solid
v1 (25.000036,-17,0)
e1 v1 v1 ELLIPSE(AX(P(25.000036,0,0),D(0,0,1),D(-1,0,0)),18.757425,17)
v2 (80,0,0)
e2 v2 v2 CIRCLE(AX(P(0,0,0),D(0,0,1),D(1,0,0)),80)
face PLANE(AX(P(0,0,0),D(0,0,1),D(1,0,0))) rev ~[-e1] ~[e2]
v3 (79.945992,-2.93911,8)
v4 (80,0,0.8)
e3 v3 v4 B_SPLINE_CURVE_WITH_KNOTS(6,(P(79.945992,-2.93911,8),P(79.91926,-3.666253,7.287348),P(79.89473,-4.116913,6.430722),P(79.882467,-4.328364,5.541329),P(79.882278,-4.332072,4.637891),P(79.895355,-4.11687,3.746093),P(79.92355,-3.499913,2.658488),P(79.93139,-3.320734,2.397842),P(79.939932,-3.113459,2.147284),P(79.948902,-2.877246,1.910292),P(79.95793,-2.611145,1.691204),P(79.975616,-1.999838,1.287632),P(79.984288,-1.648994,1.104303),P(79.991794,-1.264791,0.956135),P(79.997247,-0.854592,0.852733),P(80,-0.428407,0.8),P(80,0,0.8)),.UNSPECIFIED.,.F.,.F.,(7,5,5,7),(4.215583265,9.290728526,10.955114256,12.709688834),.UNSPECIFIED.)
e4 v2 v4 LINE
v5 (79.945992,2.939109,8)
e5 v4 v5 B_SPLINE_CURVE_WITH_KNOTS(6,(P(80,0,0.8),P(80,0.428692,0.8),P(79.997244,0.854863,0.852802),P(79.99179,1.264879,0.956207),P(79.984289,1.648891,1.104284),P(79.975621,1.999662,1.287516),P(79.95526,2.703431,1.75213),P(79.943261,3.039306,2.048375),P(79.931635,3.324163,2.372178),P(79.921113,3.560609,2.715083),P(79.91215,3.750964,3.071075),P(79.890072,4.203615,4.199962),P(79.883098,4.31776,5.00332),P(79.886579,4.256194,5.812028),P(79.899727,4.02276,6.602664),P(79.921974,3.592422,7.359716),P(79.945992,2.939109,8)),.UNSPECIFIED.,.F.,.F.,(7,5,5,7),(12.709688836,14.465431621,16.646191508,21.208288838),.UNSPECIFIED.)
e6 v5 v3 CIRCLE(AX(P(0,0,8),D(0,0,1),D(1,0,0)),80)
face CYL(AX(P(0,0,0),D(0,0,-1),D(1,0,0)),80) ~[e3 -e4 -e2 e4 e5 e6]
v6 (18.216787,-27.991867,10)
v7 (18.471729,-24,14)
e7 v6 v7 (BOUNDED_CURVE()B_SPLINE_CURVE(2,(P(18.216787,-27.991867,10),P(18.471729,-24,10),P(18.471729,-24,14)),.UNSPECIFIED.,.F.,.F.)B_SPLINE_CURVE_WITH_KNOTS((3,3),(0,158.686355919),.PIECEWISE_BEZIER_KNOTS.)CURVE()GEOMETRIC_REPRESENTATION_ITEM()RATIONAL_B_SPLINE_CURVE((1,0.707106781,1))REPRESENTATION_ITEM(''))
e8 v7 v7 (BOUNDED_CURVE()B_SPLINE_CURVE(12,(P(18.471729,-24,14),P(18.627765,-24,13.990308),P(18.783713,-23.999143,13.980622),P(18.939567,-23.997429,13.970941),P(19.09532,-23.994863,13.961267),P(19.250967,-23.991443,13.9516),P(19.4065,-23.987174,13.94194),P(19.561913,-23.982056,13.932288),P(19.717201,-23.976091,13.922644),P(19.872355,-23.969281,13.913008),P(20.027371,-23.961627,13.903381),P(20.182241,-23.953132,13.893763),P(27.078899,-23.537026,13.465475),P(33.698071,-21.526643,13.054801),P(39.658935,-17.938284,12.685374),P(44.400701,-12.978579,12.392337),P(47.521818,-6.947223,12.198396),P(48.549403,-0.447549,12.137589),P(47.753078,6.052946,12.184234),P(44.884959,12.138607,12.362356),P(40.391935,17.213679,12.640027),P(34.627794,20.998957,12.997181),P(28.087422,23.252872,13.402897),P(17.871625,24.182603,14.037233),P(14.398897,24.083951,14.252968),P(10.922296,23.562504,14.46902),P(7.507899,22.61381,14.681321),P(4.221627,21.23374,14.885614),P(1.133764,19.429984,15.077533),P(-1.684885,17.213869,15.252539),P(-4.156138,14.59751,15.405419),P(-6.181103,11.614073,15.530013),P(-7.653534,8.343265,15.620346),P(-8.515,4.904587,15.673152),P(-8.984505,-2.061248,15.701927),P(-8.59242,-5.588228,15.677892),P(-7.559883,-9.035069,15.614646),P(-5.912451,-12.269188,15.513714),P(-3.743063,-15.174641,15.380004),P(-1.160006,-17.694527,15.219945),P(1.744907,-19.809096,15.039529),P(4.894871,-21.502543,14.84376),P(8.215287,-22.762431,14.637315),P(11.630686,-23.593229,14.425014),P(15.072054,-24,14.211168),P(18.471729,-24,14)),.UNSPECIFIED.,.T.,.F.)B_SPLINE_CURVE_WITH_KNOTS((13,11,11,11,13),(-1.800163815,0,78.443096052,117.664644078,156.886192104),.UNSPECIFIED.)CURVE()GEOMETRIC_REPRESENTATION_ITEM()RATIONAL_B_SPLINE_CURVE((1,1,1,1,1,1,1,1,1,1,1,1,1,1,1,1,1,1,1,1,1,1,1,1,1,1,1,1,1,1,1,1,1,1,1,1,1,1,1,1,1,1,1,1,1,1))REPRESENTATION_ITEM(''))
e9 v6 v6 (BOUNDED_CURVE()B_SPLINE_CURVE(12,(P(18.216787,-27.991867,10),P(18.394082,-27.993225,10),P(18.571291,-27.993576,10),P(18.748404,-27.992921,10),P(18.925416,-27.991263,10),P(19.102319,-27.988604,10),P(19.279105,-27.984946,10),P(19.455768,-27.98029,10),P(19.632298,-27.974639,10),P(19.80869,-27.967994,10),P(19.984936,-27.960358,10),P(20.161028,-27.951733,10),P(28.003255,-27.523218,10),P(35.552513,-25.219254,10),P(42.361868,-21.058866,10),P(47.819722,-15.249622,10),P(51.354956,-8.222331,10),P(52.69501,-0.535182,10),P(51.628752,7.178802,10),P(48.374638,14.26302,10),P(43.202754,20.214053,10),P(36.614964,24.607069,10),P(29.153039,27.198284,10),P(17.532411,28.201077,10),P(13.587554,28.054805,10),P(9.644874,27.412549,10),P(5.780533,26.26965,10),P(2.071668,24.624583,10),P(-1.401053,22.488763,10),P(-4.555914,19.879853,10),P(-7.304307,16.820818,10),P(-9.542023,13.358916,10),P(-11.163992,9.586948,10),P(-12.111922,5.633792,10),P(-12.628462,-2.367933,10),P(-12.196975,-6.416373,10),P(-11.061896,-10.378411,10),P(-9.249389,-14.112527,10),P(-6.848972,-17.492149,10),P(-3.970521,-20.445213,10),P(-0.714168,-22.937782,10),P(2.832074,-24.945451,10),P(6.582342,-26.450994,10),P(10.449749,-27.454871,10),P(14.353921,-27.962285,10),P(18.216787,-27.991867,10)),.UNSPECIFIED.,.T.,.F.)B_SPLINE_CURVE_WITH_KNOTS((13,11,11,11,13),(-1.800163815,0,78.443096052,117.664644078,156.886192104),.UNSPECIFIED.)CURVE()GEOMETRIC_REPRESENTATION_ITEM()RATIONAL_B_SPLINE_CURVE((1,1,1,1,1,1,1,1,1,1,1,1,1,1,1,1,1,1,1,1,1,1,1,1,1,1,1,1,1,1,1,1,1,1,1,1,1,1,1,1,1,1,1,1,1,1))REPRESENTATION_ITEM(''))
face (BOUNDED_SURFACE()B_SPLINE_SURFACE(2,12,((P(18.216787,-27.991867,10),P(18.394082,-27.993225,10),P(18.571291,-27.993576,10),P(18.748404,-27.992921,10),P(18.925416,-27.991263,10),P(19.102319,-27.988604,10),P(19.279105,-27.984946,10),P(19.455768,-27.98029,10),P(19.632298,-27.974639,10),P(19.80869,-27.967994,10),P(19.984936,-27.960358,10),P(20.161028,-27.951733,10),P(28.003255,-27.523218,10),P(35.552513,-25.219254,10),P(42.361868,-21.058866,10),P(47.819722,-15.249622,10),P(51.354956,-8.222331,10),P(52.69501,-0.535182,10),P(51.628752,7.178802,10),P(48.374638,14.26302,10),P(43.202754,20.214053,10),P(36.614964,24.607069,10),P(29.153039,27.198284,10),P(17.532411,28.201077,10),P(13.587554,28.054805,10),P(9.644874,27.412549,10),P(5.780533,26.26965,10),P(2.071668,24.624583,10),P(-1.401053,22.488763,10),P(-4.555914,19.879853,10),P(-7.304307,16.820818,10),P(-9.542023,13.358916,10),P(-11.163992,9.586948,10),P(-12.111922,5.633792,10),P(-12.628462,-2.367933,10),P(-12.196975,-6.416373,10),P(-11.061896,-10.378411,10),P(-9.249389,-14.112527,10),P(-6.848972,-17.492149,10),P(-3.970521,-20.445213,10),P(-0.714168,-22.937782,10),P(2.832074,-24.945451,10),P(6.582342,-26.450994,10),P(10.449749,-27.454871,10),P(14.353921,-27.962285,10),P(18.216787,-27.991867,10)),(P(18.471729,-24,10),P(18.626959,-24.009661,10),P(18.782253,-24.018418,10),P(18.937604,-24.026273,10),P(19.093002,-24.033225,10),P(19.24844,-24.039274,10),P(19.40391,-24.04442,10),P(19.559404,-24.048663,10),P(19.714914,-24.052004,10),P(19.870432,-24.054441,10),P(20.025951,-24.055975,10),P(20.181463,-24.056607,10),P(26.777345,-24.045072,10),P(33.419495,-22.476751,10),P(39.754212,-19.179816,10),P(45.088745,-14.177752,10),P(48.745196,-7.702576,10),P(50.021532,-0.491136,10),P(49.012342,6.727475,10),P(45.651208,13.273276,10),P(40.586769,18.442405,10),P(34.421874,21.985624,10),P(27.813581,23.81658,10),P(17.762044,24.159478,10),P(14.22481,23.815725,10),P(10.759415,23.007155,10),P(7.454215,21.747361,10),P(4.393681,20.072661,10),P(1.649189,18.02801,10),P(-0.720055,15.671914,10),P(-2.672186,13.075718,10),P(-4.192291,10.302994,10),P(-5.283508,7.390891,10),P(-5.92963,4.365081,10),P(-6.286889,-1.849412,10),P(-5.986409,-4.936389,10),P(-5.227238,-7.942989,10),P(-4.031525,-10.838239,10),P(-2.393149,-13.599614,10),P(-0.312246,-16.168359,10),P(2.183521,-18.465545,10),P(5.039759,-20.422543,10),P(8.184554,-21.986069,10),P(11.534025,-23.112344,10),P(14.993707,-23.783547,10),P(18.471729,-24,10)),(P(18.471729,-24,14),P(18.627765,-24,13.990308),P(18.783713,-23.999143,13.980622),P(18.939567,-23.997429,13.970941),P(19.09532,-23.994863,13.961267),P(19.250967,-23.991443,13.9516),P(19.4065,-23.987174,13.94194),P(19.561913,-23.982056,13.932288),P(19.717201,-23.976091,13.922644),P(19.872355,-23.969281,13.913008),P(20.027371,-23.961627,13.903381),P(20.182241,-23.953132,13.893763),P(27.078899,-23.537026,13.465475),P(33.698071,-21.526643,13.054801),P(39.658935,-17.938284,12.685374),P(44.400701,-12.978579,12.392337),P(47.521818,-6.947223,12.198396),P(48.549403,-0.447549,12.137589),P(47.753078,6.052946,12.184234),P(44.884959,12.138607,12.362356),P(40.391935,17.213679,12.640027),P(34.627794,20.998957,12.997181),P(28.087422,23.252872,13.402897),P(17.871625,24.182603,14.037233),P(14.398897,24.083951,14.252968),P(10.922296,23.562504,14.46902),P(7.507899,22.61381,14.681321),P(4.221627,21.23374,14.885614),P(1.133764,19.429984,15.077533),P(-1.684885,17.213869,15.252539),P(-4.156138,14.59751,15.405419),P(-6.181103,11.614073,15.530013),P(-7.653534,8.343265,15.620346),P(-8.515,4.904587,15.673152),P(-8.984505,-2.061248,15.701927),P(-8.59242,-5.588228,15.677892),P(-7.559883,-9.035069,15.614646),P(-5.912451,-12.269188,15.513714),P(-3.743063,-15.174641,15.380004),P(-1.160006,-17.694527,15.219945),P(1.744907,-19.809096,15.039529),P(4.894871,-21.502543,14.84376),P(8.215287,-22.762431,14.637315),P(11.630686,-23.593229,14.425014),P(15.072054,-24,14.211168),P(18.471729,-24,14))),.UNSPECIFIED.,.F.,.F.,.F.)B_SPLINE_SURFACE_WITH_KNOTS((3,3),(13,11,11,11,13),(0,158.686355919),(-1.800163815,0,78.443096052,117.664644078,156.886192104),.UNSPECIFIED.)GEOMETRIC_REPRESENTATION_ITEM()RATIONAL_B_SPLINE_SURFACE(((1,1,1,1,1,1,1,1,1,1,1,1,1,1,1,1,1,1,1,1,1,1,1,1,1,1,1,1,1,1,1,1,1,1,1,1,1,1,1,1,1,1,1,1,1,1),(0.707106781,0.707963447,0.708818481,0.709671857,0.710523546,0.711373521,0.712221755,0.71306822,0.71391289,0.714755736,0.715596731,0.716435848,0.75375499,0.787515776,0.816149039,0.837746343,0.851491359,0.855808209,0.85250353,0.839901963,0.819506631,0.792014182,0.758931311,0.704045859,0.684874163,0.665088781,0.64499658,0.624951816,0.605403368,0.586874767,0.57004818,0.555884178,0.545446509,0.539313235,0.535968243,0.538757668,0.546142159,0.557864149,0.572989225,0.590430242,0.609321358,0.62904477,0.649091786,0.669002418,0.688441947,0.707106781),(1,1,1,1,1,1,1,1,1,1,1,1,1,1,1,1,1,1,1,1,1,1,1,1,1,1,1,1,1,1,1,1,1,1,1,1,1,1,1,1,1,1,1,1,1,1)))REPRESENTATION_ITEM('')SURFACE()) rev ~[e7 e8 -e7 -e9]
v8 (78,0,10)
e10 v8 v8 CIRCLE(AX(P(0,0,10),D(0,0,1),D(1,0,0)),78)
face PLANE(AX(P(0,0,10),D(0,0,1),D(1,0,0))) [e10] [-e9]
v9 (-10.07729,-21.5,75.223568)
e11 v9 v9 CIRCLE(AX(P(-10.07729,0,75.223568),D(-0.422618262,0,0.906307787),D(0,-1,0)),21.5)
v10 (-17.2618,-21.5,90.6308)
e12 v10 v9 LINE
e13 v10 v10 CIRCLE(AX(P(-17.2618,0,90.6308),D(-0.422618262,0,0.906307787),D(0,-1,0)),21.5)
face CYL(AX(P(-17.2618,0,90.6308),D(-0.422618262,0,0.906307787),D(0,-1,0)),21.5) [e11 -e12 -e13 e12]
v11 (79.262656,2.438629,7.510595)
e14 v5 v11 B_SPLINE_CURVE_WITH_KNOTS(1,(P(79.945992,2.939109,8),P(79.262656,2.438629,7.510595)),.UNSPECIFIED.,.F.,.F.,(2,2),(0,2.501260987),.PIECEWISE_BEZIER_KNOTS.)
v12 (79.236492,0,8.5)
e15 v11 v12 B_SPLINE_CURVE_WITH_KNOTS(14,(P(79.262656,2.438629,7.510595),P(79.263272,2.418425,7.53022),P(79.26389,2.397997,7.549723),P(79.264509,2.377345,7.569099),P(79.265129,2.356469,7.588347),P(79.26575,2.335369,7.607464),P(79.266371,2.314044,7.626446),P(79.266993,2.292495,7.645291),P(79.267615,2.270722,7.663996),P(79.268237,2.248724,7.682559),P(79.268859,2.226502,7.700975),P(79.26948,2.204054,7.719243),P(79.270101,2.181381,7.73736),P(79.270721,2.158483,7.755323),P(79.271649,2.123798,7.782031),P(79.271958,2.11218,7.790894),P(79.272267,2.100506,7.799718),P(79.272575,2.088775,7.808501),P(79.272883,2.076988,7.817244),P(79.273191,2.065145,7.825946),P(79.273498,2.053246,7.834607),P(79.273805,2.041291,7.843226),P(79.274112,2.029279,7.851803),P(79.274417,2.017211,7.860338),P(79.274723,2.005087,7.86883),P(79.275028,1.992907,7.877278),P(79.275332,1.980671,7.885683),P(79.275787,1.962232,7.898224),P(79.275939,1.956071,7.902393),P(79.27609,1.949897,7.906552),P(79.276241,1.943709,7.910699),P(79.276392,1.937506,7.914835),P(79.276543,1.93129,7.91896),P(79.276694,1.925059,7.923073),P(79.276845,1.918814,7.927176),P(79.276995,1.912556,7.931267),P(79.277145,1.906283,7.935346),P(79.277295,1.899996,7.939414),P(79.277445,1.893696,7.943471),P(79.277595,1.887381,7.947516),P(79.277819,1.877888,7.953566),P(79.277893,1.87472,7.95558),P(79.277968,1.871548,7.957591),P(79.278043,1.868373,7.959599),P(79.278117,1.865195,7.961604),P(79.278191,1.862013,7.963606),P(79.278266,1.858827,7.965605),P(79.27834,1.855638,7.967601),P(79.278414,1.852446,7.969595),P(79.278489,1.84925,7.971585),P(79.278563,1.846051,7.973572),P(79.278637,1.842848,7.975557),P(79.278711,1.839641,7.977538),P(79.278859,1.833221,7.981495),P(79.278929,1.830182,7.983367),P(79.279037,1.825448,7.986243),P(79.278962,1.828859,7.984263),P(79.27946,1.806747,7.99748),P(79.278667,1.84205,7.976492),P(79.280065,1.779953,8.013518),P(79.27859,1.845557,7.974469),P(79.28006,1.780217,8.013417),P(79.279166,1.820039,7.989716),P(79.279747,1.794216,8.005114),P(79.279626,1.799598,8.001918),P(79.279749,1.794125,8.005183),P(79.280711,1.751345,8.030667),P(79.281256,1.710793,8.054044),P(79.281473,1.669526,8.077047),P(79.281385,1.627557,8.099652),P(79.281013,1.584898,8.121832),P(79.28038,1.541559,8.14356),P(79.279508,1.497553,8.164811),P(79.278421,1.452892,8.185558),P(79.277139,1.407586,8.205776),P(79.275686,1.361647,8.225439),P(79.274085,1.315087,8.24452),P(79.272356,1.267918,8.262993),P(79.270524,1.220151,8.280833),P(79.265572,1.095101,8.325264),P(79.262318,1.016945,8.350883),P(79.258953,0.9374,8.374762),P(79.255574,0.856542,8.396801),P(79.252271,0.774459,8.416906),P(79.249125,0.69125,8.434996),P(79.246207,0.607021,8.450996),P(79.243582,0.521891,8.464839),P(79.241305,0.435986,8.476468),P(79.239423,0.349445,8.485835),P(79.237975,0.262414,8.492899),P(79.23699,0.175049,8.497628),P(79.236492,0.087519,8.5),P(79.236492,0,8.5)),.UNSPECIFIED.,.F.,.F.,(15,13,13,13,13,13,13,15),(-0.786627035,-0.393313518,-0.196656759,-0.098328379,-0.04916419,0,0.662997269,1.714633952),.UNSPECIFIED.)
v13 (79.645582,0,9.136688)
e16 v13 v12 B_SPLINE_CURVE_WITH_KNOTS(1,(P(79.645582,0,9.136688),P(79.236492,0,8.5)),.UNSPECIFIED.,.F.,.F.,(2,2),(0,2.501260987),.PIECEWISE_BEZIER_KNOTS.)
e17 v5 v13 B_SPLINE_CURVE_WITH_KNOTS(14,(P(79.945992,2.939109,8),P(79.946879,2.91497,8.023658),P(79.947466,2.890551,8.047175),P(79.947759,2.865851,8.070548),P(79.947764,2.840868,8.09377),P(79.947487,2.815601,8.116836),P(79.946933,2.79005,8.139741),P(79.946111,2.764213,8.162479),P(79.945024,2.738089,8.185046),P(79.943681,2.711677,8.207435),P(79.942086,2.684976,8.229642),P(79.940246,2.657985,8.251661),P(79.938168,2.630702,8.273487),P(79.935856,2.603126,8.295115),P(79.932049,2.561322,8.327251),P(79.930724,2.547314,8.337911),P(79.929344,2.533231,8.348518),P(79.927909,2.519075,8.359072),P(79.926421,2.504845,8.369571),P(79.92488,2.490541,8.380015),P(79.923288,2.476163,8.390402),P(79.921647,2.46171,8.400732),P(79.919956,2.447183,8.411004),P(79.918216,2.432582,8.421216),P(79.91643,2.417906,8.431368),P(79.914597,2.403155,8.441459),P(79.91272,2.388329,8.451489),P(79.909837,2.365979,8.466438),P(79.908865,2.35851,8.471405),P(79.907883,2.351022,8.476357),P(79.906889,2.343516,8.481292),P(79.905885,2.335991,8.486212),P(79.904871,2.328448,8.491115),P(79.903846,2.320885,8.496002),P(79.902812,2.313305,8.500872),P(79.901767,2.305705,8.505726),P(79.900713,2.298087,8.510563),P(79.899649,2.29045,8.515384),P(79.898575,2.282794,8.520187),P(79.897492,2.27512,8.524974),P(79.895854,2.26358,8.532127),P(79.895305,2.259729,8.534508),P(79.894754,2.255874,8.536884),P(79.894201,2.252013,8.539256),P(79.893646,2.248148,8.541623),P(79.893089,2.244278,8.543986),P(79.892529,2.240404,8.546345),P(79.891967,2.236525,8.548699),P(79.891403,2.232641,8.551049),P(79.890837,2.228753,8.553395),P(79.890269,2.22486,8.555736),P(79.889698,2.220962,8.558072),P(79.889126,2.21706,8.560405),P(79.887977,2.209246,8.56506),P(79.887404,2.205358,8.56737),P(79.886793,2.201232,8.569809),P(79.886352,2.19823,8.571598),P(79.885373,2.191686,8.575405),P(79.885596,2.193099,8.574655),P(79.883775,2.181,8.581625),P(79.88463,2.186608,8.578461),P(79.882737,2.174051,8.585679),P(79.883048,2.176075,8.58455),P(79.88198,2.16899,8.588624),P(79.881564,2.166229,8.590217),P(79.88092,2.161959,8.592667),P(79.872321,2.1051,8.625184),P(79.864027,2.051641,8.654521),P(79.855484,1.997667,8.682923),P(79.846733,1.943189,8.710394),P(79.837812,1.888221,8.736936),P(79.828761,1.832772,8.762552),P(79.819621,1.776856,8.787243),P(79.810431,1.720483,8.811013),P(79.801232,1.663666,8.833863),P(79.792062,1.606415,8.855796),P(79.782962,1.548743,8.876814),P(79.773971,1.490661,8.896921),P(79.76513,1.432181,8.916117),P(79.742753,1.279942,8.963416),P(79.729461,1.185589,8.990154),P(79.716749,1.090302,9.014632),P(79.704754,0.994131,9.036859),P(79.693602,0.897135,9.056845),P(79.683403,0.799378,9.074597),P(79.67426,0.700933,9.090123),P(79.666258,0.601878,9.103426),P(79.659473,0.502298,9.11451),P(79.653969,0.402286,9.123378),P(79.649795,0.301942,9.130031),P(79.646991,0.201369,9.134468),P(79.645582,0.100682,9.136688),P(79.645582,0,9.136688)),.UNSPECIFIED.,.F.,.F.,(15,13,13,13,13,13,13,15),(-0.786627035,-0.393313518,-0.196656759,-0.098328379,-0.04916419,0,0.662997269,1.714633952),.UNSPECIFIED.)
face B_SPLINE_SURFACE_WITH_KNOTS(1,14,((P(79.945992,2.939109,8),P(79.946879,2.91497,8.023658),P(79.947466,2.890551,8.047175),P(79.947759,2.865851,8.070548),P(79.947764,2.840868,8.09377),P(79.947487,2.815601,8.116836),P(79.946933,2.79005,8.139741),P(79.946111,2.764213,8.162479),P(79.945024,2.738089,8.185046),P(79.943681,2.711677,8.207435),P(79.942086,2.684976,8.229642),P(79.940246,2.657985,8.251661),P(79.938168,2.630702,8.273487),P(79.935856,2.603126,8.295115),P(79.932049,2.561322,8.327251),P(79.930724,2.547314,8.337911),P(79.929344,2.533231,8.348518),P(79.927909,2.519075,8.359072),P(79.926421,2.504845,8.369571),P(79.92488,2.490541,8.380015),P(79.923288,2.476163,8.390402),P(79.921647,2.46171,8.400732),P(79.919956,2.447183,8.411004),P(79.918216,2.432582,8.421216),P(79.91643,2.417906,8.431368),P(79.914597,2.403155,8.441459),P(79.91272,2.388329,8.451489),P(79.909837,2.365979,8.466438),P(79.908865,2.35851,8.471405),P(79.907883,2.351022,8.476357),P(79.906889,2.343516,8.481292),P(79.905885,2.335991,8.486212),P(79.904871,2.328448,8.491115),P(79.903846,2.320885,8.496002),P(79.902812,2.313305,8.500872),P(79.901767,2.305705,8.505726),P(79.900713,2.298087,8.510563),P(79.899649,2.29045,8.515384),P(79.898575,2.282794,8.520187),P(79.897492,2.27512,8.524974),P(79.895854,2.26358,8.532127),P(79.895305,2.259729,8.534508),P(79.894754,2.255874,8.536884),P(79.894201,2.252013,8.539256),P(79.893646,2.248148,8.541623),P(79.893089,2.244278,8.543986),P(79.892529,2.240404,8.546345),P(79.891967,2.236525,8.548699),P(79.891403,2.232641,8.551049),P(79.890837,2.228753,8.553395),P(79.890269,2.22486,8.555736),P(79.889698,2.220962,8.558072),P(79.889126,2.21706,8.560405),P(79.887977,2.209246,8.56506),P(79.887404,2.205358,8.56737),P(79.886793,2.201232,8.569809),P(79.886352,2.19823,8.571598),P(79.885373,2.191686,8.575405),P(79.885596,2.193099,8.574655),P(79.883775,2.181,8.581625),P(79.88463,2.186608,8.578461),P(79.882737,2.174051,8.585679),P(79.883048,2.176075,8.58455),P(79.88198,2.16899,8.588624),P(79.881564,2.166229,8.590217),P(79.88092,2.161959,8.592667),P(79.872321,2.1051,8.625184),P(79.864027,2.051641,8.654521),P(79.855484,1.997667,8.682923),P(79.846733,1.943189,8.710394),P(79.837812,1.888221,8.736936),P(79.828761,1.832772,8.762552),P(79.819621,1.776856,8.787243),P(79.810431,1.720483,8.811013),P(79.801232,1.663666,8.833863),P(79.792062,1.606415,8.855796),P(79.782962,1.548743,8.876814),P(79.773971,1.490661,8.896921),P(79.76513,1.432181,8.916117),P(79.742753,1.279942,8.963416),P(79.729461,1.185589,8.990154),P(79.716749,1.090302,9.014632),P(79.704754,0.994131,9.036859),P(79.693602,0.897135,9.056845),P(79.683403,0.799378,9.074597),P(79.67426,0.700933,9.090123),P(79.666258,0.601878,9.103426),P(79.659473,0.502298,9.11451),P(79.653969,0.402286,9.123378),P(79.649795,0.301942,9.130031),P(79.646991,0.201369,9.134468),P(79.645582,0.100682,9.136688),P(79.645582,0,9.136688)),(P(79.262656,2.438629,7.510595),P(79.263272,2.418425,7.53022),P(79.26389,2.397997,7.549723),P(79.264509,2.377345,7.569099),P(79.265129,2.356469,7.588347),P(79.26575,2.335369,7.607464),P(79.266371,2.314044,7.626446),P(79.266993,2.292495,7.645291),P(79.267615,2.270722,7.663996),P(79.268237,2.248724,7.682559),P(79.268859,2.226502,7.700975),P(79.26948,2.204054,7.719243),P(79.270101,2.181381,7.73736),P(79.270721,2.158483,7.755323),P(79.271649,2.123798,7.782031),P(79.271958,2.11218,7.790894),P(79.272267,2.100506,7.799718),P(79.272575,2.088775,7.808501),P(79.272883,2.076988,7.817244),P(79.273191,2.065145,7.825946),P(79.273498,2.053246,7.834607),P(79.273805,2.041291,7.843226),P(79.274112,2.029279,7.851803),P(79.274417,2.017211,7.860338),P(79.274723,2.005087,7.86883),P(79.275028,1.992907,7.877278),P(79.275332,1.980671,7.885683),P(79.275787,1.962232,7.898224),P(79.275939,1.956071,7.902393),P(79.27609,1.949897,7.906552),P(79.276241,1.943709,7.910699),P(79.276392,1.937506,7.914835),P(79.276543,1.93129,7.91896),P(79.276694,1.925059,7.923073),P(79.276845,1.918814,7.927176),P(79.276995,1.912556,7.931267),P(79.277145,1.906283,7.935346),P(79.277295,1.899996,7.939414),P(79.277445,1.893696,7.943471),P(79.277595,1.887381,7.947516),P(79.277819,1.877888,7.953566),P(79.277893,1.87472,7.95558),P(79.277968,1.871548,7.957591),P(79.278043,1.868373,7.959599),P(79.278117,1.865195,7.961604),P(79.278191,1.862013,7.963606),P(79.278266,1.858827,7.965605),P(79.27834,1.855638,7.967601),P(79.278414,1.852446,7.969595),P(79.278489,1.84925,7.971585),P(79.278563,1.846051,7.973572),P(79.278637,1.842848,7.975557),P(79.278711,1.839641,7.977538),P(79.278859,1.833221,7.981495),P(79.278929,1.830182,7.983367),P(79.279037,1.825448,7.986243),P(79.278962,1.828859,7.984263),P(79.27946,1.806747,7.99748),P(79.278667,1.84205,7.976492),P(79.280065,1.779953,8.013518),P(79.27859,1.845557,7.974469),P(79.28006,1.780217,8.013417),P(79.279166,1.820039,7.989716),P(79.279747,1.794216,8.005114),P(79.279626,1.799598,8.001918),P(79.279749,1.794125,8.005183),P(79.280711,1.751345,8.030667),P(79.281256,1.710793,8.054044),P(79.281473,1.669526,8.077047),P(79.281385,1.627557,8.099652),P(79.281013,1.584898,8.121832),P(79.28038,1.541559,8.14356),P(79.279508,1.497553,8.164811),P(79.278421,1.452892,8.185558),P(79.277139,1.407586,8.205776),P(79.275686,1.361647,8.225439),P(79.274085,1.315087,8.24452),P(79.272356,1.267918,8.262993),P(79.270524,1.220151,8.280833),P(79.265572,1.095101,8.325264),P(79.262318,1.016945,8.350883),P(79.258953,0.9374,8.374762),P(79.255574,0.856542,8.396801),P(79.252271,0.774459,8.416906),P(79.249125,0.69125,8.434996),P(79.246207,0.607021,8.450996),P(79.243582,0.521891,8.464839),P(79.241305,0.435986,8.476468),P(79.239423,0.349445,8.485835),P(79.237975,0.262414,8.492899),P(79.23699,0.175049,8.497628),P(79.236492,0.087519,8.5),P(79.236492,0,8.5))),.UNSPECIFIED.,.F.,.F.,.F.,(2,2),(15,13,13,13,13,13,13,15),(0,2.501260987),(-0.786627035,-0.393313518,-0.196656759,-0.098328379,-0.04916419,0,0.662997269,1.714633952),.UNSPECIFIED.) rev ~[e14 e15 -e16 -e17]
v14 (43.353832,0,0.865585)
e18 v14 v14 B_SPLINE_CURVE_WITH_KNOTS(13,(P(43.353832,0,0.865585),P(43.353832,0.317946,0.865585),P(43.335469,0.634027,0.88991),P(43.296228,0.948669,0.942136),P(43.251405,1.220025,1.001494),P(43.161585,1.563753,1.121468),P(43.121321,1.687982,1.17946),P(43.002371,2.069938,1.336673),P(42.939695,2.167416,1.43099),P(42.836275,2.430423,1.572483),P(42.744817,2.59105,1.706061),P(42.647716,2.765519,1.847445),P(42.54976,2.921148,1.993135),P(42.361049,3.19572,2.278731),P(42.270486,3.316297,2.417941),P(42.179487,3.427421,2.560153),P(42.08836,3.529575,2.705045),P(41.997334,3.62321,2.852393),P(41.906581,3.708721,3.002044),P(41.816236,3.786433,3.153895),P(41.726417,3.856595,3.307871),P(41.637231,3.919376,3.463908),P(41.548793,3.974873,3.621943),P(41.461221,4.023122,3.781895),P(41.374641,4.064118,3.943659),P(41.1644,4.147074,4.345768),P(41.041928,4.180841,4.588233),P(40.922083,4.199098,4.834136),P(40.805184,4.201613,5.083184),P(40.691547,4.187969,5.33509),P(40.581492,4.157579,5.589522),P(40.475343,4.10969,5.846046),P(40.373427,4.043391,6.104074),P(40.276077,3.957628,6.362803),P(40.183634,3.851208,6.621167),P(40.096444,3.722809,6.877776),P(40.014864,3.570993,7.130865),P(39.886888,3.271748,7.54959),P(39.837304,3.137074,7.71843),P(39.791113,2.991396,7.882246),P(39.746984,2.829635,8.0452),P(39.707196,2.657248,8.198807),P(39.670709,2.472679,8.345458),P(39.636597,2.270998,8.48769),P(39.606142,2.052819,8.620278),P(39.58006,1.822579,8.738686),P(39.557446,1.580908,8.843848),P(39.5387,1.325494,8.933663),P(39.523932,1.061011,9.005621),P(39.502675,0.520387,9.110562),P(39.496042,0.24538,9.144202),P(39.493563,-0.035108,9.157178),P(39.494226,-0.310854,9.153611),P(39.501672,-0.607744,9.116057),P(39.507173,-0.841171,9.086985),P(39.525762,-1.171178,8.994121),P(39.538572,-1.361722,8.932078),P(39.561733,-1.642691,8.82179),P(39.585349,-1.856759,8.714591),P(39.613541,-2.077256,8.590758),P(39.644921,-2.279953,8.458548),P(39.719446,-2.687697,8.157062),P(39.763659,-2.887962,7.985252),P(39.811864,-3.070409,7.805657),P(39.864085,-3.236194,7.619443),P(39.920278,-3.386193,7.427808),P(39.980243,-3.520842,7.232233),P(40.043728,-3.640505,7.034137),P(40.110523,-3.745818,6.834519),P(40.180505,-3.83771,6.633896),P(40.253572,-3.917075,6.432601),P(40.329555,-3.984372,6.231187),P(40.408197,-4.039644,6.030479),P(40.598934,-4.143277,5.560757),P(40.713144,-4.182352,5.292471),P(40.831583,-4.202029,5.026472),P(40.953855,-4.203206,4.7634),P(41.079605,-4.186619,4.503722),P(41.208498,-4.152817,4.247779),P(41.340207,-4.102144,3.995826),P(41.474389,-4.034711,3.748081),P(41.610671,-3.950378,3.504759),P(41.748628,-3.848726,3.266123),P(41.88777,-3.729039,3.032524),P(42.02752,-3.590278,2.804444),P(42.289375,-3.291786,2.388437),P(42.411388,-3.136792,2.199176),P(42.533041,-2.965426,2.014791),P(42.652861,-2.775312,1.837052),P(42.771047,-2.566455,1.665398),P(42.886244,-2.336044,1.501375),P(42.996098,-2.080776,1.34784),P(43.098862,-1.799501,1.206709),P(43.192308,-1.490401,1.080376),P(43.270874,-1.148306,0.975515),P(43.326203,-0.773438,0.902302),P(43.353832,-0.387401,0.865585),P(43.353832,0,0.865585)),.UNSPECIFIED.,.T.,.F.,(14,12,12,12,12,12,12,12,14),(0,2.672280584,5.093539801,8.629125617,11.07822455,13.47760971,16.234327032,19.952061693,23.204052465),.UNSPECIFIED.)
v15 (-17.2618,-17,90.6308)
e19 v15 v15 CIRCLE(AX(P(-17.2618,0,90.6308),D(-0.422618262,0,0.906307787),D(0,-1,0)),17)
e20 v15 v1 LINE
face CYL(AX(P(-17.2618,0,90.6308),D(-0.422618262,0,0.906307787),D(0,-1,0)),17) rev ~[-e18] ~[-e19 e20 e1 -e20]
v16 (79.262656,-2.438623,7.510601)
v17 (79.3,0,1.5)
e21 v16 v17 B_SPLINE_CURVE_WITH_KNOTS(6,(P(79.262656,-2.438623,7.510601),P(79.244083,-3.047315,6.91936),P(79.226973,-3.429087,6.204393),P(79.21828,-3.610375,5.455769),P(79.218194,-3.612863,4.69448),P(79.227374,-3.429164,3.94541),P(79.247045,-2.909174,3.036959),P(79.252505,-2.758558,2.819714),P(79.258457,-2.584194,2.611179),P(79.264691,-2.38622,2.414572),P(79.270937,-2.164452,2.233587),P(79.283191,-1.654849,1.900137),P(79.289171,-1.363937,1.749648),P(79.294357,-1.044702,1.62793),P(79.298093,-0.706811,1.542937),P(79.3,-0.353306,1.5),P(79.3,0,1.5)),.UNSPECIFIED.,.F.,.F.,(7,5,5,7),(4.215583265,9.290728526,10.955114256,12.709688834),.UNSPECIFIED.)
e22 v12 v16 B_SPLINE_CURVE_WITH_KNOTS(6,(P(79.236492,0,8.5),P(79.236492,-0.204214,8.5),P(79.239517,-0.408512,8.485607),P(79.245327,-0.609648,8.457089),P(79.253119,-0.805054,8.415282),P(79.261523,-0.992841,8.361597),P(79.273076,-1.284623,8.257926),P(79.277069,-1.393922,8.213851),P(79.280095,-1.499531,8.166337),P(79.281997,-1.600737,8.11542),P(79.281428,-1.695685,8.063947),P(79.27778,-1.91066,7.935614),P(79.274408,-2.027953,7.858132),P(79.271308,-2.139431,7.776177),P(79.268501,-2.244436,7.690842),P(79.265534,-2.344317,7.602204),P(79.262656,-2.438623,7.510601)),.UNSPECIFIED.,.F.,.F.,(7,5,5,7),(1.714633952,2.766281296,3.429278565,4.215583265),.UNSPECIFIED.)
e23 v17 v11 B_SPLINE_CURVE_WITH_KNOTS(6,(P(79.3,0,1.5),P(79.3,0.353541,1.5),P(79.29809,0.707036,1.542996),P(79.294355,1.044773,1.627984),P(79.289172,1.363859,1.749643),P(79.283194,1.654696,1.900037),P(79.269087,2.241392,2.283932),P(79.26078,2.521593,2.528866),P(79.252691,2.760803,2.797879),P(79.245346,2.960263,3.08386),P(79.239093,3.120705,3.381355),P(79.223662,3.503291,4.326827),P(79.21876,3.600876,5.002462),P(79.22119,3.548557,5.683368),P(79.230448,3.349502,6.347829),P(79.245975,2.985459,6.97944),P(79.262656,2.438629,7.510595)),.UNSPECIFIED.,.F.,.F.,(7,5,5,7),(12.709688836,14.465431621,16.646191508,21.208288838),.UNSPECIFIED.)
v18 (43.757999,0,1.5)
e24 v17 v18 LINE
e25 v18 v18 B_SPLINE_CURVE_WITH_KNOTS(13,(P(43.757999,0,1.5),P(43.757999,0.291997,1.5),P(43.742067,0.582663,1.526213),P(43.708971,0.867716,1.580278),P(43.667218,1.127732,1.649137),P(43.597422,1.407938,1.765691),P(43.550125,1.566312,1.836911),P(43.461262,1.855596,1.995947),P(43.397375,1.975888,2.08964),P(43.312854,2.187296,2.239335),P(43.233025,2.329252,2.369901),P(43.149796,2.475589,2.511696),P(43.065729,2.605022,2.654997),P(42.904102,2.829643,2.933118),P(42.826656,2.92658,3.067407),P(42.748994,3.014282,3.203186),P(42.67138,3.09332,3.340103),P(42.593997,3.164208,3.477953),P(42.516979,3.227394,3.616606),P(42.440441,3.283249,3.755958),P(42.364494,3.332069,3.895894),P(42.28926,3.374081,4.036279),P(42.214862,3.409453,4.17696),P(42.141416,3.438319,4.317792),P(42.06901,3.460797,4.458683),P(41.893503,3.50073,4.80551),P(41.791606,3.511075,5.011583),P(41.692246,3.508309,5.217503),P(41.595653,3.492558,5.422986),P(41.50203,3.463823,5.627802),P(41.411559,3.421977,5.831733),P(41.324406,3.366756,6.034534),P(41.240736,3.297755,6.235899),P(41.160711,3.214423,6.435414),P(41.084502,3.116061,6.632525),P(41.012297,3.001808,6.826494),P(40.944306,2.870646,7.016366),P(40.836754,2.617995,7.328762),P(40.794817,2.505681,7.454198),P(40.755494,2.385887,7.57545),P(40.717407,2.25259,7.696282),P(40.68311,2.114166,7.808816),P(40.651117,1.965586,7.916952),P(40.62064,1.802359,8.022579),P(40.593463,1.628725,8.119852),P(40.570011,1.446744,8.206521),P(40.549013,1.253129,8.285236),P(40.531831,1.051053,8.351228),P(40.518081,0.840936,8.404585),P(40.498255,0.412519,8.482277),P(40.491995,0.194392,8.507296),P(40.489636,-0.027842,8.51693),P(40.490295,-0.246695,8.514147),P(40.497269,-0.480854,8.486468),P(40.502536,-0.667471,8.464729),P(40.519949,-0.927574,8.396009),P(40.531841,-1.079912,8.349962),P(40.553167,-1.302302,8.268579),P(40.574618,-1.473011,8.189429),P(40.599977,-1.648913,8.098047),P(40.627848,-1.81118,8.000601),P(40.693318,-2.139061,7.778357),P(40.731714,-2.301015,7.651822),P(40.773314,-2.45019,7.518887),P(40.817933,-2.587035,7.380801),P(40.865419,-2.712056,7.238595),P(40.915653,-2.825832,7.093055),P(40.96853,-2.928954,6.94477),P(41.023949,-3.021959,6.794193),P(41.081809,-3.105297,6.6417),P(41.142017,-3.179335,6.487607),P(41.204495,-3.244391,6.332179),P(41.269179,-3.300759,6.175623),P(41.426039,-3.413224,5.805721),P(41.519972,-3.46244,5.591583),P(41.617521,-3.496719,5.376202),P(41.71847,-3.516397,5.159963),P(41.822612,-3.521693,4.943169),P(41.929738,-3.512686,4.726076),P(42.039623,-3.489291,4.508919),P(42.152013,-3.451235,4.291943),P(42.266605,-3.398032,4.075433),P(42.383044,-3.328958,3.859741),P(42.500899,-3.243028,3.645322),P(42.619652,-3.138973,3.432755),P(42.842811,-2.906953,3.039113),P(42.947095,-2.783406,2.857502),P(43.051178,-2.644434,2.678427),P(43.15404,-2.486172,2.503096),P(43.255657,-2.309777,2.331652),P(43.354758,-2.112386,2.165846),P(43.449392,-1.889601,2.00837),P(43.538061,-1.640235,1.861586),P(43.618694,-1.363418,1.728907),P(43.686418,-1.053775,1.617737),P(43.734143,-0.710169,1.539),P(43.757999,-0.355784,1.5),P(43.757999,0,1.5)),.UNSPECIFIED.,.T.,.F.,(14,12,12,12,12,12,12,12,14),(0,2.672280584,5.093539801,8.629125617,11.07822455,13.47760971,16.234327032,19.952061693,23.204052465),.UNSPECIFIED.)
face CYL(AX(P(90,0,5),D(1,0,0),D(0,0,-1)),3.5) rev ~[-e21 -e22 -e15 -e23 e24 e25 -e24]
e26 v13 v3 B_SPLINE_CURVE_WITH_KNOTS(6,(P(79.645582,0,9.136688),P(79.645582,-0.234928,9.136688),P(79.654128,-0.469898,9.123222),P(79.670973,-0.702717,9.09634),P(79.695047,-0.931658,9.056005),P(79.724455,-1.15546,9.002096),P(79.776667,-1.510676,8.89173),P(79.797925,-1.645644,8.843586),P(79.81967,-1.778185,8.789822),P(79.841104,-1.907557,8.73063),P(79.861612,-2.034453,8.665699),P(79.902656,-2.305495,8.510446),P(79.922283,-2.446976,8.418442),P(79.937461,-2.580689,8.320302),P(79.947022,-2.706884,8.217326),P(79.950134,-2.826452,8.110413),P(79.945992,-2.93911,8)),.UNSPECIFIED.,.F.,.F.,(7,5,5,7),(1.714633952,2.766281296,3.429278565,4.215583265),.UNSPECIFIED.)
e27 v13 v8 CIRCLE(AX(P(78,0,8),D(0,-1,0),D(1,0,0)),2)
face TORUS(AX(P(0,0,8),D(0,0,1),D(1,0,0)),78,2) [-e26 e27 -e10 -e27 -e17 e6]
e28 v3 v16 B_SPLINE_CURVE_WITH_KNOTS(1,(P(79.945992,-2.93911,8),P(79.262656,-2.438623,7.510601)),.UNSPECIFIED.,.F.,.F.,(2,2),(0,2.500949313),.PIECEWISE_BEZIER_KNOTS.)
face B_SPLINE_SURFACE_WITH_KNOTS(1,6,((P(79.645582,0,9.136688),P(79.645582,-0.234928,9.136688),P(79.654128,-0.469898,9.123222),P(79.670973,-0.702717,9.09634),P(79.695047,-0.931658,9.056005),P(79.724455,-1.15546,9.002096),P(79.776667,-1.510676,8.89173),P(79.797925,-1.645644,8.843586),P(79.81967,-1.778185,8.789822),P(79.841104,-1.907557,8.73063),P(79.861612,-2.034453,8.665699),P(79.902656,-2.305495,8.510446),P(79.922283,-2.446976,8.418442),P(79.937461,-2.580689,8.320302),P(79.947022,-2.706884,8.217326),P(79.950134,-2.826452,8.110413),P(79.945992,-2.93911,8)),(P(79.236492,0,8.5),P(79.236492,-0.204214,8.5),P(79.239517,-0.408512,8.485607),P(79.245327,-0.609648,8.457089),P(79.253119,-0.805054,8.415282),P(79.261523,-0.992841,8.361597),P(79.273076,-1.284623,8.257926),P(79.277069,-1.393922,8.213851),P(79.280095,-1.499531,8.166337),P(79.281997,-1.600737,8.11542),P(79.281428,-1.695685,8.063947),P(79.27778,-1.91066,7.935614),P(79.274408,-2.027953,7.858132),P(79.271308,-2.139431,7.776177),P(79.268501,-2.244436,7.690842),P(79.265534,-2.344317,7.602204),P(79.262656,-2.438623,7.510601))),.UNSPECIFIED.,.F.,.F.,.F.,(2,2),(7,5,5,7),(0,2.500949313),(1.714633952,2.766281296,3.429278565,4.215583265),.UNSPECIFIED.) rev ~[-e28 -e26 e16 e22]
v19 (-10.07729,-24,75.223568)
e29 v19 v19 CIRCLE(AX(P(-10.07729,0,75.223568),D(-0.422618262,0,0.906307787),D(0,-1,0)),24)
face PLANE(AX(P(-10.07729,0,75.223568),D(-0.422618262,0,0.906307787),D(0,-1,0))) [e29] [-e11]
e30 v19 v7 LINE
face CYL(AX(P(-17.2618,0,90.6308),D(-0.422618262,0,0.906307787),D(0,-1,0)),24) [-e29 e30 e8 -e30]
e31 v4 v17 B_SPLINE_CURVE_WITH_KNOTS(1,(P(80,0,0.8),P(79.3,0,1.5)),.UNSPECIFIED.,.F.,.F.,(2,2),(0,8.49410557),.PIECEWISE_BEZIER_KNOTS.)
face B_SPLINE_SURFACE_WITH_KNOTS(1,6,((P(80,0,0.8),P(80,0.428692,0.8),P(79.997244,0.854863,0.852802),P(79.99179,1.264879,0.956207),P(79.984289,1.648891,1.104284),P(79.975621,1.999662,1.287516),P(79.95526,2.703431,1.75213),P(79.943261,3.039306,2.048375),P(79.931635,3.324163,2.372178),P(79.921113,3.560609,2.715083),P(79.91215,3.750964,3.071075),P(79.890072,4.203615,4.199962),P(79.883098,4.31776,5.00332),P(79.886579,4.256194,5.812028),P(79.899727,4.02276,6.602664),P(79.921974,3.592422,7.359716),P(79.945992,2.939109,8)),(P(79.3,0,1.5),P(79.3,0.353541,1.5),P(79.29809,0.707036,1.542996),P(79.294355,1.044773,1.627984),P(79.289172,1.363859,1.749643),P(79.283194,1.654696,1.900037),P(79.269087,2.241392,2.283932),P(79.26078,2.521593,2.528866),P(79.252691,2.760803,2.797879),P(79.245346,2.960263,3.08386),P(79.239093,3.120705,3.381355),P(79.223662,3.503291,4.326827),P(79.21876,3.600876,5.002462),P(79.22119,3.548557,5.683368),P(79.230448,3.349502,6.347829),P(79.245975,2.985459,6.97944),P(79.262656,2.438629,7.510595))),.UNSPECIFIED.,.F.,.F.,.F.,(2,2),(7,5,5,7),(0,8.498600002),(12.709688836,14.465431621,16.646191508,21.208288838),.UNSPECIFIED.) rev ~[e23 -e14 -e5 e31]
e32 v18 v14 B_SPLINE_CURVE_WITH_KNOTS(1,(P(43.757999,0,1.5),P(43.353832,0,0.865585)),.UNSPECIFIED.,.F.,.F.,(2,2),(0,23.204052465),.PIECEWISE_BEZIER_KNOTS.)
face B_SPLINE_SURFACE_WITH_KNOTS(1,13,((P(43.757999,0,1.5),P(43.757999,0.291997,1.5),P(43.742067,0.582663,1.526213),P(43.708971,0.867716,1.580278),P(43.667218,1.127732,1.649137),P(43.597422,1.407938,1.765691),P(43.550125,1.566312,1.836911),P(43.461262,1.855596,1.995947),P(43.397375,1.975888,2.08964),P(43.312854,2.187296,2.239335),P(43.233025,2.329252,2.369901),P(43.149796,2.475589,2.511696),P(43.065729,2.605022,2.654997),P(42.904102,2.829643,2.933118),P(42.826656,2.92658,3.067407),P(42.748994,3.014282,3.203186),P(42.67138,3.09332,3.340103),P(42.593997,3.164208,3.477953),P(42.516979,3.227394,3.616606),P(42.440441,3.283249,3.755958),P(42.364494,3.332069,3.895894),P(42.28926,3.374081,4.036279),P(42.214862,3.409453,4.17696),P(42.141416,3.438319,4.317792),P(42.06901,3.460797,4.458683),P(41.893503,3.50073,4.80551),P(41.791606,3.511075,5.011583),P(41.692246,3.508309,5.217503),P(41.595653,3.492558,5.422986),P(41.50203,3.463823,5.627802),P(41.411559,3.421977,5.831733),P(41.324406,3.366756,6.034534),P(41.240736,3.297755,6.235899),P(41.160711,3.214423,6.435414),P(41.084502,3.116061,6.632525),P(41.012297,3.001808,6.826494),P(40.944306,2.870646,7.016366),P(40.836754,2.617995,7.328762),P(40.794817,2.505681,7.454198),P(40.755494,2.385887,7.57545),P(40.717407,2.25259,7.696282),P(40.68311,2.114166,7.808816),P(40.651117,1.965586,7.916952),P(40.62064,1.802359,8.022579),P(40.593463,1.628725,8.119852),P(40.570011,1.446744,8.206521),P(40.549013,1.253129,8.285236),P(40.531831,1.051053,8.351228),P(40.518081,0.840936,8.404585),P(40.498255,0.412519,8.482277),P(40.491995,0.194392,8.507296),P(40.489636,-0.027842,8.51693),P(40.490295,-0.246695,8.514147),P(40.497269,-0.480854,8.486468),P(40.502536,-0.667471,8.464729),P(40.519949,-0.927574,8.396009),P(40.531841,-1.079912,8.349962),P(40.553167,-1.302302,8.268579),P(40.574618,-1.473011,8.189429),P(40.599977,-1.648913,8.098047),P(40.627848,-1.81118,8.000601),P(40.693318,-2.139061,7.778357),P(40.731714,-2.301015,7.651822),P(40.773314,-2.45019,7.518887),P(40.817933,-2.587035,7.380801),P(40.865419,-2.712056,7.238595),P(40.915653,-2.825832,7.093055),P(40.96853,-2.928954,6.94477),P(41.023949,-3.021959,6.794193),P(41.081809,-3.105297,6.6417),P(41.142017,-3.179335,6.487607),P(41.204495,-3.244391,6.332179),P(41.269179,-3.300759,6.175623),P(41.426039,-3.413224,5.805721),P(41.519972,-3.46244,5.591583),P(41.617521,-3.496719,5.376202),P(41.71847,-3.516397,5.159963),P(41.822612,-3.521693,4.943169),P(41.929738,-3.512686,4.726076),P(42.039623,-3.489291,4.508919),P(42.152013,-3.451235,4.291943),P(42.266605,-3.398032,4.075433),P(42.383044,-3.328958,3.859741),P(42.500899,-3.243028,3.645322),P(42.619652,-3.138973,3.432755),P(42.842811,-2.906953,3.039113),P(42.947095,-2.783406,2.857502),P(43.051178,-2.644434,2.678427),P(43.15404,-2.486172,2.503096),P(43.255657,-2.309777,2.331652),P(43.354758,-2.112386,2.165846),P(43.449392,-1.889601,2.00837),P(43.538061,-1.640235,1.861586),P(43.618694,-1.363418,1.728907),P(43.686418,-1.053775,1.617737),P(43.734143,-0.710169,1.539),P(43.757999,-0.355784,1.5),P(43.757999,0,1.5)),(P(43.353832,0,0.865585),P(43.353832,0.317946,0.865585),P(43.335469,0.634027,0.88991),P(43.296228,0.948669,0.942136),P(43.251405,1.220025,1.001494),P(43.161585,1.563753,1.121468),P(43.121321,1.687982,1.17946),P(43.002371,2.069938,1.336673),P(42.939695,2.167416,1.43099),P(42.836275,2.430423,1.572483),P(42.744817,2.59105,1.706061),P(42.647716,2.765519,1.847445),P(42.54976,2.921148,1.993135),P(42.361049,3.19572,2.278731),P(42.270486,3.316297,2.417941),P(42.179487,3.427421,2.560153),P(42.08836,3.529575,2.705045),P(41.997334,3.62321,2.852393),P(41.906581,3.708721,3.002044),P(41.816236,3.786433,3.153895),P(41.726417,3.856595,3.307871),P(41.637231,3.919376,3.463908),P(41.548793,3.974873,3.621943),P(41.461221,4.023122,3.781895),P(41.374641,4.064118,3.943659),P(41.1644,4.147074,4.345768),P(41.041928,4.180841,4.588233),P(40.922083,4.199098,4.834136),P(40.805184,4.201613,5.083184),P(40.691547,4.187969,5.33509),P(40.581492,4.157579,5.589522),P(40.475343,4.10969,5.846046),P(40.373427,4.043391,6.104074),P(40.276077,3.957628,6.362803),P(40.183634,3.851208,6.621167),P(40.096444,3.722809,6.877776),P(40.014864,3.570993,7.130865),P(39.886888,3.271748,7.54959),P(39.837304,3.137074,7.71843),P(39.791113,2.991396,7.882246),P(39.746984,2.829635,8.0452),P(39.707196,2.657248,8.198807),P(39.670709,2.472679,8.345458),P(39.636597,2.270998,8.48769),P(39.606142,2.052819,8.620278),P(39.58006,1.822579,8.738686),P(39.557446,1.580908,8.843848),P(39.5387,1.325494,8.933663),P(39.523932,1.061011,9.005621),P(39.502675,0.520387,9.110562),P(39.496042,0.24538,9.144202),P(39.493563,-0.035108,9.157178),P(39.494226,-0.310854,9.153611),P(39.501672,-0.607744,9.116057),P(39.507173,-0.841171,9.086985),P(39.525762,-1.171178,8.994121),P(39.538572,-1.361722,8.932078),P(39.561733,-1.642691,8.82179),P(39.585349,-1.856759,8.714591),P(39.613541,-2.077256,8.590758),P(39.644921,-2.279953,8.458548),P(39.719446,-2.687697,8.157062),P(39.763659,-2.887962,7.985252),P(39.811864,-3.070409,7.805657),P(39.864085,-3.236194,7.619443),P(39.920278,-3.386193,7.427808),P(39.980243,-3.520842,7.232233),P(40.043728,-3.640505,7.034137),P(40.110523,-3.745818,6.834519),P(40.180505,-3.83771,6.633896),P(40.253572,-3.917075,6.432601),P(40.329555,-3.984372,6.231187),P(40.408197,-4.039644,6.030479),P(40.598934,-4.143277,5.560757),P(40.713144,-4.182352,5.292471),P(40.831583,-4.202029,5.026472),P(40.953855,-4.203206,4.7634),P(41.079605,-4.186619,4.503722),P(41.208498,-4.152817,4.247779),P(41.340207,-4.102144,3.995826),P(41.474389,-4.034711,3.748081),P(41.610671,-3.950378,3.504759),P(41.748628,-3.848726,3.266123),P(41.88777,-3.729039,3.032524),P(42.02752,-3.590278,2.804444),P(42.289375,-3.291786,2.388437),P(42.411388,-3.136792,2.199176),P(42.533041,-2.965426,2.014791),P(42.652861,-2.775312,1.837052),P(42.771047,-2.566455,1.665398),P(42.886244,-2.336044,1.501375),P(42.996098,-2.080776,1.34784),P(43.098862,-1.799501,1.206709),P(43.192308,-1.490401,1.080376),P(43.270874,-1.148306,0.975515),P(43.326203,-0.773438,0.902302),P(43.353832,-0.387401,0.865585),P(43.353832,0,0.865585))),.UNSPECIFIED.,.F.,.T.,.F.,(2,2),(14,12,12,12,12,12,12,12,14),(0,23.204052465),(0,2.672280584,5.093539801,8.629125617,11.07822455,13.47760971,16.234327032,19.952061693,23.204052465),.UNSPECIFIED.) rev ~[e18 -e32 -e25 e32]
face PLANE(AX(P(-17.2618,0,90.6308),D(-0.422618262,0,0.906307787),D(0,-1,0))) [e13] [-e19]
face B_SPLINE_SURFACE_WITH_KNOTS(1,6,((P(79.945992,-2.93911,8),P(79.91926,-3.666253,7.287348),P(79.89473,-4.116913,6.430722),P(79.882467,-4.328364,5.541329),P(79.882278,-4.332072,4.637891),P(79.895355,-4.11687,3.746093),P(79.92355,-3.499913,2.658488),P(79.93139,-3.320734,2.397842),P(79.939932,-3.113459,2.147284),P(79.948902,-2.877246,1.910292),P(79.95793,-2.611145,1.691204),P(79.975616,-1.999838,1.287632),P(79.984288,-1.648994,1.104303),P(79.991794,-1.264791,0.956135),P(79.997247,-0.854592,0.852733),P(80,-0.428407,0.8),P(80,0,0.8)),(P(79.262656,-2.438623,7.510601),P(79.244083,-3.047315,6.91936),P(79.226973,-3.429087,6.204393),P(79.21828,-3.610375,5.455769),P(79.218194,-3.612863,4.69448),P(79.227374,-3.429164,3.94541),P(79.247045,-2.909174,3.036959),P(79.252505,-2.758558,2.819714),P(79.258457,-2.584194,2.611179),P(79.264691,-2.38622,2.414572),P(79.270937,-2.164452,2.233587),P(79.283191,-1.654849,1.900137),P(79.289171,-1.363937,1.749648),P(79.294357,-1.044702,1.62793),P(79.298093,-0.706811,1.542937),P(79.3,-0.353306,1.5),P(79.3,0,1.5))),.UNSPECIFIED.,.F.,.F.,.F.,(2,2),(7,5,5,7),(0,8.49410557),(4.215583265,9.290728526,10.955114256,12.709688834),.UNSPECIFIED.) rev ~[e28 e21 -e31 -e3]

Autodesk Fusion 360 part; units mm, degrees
sketch "Skizze13" plane through (0, 0, 0) normal (0, 0, 1) x (1, 0, 0)
  circle A0 centre (0, 0) radius 80
extrude "Extrusion17" add sketch "Skizze13" along normal blind 10 makes body 1
fillet "Abrundung5" radius 2 1 edges at (-74.5862, -28.9292, 10) on bodies 1
sketch "Skizze14" plane through (0, 0, 0) normal (0, 1, 0) x (1, 0, 0)
  line L0 (25, 0) -> (-17.2618, -90.6308) construction
ref_plane "Arbeitsebene5" through (-17.2618, 0, 90.6308) normal (-0.4226, 0, 0.9063) x (0, -1, 0)
sketch "Skizze15" plane through (-17.2618, 0, 90.6308) normal (-0.4226, 0, 0.9063) x (0, -1, 0)
  circle A0 centre (0, 0) radius 24
  circle A1 centre (0, 0) radius 21.5
extrude "Extrusion20" add sketch "Skizze15" against normal blind 110 separate body contours A0 | A1 makes body 2
combine "Kombinieren3" operation add target body 1 tool bodies 2
extrude "Extrusion21" cut sketch "Skizze15" against normal blind 17 bodies 1
fillet "Abrundung6" radius 4 1 edges at (46.818, 0, 10) on bodies 1
sketch "Skizze16" plane through (-17.2618, 0, 90.6308) normal (-0.4226, 0, 0.9063) x (0, -1, 0)
  circle A0 centre (0, 0) radius 17
extrude "Extrusion22" cut sketch "Skizze16" against normal blind 160 bodies 1
sketch "Skizze17" plane through (0, 0, 0) normal (0, 0, 1) x (1, 0, 0)
  circle A0 centre (0, 0) radius 160
extrude "Extrusion23" cut sketch "Skizze17" against normal blind 110 bodies 1
ref_plane "Arbeitsebene6" through (90, 0, 0) normal (1, 0, 0) x (0, 1, 0)
sketch "Skizze18" plane through (90, 0, 0) normal (1, 0, 0) x (0, 0, -1)
  circle A0 centre (-5, 0) radius 3.5
extrude "Extrusion24" cut sketch "Skizze18" against normal blind 70 bodies 1
chamfer "Fase3" distance 0.7 angle 45 3 edges at (41.122, -3.4937, 4.7932) (79.9365, 0.0176, 8.5) (80, 0, 1.5) on bodies 1
equation "base_plate_diameter = 160 mm"
equation "base_plate_height = 10 mm"
equation "base_plate_rounding = 2 mm"
equation "arm_outer_diameter = 48 mm"
equation "ring_inner_diameter = 43 mm"
equation "ring_extrude_depth = 17 mm"
equation "foot_leg_bore_diameter = 34 mm"
equation "leg_length = 100 mm"
equation "leg_angle = 115 deg"
equation "leg_offset = 25 mm"
equation "leg_plate_rounding = 4 mm"
equation "cable_hole_offset = 90 mm"
equation "cable_hole_depth = 70 mm"
equation "cable_hole_diameter = 7 mm"
equation "cable_hole_height = 5.0 mm"
equation "cable_hole_chamfer = 0.7 mm"
equation "d81 = base_plate_height"
equation "d84 = base_plate_rounding"
equation "d95 = leg_plate_rounding"
equation "d96 = -leg_length - base_plate_height - 50 mm"
equation "d104 = cable_hole_chamfer"
